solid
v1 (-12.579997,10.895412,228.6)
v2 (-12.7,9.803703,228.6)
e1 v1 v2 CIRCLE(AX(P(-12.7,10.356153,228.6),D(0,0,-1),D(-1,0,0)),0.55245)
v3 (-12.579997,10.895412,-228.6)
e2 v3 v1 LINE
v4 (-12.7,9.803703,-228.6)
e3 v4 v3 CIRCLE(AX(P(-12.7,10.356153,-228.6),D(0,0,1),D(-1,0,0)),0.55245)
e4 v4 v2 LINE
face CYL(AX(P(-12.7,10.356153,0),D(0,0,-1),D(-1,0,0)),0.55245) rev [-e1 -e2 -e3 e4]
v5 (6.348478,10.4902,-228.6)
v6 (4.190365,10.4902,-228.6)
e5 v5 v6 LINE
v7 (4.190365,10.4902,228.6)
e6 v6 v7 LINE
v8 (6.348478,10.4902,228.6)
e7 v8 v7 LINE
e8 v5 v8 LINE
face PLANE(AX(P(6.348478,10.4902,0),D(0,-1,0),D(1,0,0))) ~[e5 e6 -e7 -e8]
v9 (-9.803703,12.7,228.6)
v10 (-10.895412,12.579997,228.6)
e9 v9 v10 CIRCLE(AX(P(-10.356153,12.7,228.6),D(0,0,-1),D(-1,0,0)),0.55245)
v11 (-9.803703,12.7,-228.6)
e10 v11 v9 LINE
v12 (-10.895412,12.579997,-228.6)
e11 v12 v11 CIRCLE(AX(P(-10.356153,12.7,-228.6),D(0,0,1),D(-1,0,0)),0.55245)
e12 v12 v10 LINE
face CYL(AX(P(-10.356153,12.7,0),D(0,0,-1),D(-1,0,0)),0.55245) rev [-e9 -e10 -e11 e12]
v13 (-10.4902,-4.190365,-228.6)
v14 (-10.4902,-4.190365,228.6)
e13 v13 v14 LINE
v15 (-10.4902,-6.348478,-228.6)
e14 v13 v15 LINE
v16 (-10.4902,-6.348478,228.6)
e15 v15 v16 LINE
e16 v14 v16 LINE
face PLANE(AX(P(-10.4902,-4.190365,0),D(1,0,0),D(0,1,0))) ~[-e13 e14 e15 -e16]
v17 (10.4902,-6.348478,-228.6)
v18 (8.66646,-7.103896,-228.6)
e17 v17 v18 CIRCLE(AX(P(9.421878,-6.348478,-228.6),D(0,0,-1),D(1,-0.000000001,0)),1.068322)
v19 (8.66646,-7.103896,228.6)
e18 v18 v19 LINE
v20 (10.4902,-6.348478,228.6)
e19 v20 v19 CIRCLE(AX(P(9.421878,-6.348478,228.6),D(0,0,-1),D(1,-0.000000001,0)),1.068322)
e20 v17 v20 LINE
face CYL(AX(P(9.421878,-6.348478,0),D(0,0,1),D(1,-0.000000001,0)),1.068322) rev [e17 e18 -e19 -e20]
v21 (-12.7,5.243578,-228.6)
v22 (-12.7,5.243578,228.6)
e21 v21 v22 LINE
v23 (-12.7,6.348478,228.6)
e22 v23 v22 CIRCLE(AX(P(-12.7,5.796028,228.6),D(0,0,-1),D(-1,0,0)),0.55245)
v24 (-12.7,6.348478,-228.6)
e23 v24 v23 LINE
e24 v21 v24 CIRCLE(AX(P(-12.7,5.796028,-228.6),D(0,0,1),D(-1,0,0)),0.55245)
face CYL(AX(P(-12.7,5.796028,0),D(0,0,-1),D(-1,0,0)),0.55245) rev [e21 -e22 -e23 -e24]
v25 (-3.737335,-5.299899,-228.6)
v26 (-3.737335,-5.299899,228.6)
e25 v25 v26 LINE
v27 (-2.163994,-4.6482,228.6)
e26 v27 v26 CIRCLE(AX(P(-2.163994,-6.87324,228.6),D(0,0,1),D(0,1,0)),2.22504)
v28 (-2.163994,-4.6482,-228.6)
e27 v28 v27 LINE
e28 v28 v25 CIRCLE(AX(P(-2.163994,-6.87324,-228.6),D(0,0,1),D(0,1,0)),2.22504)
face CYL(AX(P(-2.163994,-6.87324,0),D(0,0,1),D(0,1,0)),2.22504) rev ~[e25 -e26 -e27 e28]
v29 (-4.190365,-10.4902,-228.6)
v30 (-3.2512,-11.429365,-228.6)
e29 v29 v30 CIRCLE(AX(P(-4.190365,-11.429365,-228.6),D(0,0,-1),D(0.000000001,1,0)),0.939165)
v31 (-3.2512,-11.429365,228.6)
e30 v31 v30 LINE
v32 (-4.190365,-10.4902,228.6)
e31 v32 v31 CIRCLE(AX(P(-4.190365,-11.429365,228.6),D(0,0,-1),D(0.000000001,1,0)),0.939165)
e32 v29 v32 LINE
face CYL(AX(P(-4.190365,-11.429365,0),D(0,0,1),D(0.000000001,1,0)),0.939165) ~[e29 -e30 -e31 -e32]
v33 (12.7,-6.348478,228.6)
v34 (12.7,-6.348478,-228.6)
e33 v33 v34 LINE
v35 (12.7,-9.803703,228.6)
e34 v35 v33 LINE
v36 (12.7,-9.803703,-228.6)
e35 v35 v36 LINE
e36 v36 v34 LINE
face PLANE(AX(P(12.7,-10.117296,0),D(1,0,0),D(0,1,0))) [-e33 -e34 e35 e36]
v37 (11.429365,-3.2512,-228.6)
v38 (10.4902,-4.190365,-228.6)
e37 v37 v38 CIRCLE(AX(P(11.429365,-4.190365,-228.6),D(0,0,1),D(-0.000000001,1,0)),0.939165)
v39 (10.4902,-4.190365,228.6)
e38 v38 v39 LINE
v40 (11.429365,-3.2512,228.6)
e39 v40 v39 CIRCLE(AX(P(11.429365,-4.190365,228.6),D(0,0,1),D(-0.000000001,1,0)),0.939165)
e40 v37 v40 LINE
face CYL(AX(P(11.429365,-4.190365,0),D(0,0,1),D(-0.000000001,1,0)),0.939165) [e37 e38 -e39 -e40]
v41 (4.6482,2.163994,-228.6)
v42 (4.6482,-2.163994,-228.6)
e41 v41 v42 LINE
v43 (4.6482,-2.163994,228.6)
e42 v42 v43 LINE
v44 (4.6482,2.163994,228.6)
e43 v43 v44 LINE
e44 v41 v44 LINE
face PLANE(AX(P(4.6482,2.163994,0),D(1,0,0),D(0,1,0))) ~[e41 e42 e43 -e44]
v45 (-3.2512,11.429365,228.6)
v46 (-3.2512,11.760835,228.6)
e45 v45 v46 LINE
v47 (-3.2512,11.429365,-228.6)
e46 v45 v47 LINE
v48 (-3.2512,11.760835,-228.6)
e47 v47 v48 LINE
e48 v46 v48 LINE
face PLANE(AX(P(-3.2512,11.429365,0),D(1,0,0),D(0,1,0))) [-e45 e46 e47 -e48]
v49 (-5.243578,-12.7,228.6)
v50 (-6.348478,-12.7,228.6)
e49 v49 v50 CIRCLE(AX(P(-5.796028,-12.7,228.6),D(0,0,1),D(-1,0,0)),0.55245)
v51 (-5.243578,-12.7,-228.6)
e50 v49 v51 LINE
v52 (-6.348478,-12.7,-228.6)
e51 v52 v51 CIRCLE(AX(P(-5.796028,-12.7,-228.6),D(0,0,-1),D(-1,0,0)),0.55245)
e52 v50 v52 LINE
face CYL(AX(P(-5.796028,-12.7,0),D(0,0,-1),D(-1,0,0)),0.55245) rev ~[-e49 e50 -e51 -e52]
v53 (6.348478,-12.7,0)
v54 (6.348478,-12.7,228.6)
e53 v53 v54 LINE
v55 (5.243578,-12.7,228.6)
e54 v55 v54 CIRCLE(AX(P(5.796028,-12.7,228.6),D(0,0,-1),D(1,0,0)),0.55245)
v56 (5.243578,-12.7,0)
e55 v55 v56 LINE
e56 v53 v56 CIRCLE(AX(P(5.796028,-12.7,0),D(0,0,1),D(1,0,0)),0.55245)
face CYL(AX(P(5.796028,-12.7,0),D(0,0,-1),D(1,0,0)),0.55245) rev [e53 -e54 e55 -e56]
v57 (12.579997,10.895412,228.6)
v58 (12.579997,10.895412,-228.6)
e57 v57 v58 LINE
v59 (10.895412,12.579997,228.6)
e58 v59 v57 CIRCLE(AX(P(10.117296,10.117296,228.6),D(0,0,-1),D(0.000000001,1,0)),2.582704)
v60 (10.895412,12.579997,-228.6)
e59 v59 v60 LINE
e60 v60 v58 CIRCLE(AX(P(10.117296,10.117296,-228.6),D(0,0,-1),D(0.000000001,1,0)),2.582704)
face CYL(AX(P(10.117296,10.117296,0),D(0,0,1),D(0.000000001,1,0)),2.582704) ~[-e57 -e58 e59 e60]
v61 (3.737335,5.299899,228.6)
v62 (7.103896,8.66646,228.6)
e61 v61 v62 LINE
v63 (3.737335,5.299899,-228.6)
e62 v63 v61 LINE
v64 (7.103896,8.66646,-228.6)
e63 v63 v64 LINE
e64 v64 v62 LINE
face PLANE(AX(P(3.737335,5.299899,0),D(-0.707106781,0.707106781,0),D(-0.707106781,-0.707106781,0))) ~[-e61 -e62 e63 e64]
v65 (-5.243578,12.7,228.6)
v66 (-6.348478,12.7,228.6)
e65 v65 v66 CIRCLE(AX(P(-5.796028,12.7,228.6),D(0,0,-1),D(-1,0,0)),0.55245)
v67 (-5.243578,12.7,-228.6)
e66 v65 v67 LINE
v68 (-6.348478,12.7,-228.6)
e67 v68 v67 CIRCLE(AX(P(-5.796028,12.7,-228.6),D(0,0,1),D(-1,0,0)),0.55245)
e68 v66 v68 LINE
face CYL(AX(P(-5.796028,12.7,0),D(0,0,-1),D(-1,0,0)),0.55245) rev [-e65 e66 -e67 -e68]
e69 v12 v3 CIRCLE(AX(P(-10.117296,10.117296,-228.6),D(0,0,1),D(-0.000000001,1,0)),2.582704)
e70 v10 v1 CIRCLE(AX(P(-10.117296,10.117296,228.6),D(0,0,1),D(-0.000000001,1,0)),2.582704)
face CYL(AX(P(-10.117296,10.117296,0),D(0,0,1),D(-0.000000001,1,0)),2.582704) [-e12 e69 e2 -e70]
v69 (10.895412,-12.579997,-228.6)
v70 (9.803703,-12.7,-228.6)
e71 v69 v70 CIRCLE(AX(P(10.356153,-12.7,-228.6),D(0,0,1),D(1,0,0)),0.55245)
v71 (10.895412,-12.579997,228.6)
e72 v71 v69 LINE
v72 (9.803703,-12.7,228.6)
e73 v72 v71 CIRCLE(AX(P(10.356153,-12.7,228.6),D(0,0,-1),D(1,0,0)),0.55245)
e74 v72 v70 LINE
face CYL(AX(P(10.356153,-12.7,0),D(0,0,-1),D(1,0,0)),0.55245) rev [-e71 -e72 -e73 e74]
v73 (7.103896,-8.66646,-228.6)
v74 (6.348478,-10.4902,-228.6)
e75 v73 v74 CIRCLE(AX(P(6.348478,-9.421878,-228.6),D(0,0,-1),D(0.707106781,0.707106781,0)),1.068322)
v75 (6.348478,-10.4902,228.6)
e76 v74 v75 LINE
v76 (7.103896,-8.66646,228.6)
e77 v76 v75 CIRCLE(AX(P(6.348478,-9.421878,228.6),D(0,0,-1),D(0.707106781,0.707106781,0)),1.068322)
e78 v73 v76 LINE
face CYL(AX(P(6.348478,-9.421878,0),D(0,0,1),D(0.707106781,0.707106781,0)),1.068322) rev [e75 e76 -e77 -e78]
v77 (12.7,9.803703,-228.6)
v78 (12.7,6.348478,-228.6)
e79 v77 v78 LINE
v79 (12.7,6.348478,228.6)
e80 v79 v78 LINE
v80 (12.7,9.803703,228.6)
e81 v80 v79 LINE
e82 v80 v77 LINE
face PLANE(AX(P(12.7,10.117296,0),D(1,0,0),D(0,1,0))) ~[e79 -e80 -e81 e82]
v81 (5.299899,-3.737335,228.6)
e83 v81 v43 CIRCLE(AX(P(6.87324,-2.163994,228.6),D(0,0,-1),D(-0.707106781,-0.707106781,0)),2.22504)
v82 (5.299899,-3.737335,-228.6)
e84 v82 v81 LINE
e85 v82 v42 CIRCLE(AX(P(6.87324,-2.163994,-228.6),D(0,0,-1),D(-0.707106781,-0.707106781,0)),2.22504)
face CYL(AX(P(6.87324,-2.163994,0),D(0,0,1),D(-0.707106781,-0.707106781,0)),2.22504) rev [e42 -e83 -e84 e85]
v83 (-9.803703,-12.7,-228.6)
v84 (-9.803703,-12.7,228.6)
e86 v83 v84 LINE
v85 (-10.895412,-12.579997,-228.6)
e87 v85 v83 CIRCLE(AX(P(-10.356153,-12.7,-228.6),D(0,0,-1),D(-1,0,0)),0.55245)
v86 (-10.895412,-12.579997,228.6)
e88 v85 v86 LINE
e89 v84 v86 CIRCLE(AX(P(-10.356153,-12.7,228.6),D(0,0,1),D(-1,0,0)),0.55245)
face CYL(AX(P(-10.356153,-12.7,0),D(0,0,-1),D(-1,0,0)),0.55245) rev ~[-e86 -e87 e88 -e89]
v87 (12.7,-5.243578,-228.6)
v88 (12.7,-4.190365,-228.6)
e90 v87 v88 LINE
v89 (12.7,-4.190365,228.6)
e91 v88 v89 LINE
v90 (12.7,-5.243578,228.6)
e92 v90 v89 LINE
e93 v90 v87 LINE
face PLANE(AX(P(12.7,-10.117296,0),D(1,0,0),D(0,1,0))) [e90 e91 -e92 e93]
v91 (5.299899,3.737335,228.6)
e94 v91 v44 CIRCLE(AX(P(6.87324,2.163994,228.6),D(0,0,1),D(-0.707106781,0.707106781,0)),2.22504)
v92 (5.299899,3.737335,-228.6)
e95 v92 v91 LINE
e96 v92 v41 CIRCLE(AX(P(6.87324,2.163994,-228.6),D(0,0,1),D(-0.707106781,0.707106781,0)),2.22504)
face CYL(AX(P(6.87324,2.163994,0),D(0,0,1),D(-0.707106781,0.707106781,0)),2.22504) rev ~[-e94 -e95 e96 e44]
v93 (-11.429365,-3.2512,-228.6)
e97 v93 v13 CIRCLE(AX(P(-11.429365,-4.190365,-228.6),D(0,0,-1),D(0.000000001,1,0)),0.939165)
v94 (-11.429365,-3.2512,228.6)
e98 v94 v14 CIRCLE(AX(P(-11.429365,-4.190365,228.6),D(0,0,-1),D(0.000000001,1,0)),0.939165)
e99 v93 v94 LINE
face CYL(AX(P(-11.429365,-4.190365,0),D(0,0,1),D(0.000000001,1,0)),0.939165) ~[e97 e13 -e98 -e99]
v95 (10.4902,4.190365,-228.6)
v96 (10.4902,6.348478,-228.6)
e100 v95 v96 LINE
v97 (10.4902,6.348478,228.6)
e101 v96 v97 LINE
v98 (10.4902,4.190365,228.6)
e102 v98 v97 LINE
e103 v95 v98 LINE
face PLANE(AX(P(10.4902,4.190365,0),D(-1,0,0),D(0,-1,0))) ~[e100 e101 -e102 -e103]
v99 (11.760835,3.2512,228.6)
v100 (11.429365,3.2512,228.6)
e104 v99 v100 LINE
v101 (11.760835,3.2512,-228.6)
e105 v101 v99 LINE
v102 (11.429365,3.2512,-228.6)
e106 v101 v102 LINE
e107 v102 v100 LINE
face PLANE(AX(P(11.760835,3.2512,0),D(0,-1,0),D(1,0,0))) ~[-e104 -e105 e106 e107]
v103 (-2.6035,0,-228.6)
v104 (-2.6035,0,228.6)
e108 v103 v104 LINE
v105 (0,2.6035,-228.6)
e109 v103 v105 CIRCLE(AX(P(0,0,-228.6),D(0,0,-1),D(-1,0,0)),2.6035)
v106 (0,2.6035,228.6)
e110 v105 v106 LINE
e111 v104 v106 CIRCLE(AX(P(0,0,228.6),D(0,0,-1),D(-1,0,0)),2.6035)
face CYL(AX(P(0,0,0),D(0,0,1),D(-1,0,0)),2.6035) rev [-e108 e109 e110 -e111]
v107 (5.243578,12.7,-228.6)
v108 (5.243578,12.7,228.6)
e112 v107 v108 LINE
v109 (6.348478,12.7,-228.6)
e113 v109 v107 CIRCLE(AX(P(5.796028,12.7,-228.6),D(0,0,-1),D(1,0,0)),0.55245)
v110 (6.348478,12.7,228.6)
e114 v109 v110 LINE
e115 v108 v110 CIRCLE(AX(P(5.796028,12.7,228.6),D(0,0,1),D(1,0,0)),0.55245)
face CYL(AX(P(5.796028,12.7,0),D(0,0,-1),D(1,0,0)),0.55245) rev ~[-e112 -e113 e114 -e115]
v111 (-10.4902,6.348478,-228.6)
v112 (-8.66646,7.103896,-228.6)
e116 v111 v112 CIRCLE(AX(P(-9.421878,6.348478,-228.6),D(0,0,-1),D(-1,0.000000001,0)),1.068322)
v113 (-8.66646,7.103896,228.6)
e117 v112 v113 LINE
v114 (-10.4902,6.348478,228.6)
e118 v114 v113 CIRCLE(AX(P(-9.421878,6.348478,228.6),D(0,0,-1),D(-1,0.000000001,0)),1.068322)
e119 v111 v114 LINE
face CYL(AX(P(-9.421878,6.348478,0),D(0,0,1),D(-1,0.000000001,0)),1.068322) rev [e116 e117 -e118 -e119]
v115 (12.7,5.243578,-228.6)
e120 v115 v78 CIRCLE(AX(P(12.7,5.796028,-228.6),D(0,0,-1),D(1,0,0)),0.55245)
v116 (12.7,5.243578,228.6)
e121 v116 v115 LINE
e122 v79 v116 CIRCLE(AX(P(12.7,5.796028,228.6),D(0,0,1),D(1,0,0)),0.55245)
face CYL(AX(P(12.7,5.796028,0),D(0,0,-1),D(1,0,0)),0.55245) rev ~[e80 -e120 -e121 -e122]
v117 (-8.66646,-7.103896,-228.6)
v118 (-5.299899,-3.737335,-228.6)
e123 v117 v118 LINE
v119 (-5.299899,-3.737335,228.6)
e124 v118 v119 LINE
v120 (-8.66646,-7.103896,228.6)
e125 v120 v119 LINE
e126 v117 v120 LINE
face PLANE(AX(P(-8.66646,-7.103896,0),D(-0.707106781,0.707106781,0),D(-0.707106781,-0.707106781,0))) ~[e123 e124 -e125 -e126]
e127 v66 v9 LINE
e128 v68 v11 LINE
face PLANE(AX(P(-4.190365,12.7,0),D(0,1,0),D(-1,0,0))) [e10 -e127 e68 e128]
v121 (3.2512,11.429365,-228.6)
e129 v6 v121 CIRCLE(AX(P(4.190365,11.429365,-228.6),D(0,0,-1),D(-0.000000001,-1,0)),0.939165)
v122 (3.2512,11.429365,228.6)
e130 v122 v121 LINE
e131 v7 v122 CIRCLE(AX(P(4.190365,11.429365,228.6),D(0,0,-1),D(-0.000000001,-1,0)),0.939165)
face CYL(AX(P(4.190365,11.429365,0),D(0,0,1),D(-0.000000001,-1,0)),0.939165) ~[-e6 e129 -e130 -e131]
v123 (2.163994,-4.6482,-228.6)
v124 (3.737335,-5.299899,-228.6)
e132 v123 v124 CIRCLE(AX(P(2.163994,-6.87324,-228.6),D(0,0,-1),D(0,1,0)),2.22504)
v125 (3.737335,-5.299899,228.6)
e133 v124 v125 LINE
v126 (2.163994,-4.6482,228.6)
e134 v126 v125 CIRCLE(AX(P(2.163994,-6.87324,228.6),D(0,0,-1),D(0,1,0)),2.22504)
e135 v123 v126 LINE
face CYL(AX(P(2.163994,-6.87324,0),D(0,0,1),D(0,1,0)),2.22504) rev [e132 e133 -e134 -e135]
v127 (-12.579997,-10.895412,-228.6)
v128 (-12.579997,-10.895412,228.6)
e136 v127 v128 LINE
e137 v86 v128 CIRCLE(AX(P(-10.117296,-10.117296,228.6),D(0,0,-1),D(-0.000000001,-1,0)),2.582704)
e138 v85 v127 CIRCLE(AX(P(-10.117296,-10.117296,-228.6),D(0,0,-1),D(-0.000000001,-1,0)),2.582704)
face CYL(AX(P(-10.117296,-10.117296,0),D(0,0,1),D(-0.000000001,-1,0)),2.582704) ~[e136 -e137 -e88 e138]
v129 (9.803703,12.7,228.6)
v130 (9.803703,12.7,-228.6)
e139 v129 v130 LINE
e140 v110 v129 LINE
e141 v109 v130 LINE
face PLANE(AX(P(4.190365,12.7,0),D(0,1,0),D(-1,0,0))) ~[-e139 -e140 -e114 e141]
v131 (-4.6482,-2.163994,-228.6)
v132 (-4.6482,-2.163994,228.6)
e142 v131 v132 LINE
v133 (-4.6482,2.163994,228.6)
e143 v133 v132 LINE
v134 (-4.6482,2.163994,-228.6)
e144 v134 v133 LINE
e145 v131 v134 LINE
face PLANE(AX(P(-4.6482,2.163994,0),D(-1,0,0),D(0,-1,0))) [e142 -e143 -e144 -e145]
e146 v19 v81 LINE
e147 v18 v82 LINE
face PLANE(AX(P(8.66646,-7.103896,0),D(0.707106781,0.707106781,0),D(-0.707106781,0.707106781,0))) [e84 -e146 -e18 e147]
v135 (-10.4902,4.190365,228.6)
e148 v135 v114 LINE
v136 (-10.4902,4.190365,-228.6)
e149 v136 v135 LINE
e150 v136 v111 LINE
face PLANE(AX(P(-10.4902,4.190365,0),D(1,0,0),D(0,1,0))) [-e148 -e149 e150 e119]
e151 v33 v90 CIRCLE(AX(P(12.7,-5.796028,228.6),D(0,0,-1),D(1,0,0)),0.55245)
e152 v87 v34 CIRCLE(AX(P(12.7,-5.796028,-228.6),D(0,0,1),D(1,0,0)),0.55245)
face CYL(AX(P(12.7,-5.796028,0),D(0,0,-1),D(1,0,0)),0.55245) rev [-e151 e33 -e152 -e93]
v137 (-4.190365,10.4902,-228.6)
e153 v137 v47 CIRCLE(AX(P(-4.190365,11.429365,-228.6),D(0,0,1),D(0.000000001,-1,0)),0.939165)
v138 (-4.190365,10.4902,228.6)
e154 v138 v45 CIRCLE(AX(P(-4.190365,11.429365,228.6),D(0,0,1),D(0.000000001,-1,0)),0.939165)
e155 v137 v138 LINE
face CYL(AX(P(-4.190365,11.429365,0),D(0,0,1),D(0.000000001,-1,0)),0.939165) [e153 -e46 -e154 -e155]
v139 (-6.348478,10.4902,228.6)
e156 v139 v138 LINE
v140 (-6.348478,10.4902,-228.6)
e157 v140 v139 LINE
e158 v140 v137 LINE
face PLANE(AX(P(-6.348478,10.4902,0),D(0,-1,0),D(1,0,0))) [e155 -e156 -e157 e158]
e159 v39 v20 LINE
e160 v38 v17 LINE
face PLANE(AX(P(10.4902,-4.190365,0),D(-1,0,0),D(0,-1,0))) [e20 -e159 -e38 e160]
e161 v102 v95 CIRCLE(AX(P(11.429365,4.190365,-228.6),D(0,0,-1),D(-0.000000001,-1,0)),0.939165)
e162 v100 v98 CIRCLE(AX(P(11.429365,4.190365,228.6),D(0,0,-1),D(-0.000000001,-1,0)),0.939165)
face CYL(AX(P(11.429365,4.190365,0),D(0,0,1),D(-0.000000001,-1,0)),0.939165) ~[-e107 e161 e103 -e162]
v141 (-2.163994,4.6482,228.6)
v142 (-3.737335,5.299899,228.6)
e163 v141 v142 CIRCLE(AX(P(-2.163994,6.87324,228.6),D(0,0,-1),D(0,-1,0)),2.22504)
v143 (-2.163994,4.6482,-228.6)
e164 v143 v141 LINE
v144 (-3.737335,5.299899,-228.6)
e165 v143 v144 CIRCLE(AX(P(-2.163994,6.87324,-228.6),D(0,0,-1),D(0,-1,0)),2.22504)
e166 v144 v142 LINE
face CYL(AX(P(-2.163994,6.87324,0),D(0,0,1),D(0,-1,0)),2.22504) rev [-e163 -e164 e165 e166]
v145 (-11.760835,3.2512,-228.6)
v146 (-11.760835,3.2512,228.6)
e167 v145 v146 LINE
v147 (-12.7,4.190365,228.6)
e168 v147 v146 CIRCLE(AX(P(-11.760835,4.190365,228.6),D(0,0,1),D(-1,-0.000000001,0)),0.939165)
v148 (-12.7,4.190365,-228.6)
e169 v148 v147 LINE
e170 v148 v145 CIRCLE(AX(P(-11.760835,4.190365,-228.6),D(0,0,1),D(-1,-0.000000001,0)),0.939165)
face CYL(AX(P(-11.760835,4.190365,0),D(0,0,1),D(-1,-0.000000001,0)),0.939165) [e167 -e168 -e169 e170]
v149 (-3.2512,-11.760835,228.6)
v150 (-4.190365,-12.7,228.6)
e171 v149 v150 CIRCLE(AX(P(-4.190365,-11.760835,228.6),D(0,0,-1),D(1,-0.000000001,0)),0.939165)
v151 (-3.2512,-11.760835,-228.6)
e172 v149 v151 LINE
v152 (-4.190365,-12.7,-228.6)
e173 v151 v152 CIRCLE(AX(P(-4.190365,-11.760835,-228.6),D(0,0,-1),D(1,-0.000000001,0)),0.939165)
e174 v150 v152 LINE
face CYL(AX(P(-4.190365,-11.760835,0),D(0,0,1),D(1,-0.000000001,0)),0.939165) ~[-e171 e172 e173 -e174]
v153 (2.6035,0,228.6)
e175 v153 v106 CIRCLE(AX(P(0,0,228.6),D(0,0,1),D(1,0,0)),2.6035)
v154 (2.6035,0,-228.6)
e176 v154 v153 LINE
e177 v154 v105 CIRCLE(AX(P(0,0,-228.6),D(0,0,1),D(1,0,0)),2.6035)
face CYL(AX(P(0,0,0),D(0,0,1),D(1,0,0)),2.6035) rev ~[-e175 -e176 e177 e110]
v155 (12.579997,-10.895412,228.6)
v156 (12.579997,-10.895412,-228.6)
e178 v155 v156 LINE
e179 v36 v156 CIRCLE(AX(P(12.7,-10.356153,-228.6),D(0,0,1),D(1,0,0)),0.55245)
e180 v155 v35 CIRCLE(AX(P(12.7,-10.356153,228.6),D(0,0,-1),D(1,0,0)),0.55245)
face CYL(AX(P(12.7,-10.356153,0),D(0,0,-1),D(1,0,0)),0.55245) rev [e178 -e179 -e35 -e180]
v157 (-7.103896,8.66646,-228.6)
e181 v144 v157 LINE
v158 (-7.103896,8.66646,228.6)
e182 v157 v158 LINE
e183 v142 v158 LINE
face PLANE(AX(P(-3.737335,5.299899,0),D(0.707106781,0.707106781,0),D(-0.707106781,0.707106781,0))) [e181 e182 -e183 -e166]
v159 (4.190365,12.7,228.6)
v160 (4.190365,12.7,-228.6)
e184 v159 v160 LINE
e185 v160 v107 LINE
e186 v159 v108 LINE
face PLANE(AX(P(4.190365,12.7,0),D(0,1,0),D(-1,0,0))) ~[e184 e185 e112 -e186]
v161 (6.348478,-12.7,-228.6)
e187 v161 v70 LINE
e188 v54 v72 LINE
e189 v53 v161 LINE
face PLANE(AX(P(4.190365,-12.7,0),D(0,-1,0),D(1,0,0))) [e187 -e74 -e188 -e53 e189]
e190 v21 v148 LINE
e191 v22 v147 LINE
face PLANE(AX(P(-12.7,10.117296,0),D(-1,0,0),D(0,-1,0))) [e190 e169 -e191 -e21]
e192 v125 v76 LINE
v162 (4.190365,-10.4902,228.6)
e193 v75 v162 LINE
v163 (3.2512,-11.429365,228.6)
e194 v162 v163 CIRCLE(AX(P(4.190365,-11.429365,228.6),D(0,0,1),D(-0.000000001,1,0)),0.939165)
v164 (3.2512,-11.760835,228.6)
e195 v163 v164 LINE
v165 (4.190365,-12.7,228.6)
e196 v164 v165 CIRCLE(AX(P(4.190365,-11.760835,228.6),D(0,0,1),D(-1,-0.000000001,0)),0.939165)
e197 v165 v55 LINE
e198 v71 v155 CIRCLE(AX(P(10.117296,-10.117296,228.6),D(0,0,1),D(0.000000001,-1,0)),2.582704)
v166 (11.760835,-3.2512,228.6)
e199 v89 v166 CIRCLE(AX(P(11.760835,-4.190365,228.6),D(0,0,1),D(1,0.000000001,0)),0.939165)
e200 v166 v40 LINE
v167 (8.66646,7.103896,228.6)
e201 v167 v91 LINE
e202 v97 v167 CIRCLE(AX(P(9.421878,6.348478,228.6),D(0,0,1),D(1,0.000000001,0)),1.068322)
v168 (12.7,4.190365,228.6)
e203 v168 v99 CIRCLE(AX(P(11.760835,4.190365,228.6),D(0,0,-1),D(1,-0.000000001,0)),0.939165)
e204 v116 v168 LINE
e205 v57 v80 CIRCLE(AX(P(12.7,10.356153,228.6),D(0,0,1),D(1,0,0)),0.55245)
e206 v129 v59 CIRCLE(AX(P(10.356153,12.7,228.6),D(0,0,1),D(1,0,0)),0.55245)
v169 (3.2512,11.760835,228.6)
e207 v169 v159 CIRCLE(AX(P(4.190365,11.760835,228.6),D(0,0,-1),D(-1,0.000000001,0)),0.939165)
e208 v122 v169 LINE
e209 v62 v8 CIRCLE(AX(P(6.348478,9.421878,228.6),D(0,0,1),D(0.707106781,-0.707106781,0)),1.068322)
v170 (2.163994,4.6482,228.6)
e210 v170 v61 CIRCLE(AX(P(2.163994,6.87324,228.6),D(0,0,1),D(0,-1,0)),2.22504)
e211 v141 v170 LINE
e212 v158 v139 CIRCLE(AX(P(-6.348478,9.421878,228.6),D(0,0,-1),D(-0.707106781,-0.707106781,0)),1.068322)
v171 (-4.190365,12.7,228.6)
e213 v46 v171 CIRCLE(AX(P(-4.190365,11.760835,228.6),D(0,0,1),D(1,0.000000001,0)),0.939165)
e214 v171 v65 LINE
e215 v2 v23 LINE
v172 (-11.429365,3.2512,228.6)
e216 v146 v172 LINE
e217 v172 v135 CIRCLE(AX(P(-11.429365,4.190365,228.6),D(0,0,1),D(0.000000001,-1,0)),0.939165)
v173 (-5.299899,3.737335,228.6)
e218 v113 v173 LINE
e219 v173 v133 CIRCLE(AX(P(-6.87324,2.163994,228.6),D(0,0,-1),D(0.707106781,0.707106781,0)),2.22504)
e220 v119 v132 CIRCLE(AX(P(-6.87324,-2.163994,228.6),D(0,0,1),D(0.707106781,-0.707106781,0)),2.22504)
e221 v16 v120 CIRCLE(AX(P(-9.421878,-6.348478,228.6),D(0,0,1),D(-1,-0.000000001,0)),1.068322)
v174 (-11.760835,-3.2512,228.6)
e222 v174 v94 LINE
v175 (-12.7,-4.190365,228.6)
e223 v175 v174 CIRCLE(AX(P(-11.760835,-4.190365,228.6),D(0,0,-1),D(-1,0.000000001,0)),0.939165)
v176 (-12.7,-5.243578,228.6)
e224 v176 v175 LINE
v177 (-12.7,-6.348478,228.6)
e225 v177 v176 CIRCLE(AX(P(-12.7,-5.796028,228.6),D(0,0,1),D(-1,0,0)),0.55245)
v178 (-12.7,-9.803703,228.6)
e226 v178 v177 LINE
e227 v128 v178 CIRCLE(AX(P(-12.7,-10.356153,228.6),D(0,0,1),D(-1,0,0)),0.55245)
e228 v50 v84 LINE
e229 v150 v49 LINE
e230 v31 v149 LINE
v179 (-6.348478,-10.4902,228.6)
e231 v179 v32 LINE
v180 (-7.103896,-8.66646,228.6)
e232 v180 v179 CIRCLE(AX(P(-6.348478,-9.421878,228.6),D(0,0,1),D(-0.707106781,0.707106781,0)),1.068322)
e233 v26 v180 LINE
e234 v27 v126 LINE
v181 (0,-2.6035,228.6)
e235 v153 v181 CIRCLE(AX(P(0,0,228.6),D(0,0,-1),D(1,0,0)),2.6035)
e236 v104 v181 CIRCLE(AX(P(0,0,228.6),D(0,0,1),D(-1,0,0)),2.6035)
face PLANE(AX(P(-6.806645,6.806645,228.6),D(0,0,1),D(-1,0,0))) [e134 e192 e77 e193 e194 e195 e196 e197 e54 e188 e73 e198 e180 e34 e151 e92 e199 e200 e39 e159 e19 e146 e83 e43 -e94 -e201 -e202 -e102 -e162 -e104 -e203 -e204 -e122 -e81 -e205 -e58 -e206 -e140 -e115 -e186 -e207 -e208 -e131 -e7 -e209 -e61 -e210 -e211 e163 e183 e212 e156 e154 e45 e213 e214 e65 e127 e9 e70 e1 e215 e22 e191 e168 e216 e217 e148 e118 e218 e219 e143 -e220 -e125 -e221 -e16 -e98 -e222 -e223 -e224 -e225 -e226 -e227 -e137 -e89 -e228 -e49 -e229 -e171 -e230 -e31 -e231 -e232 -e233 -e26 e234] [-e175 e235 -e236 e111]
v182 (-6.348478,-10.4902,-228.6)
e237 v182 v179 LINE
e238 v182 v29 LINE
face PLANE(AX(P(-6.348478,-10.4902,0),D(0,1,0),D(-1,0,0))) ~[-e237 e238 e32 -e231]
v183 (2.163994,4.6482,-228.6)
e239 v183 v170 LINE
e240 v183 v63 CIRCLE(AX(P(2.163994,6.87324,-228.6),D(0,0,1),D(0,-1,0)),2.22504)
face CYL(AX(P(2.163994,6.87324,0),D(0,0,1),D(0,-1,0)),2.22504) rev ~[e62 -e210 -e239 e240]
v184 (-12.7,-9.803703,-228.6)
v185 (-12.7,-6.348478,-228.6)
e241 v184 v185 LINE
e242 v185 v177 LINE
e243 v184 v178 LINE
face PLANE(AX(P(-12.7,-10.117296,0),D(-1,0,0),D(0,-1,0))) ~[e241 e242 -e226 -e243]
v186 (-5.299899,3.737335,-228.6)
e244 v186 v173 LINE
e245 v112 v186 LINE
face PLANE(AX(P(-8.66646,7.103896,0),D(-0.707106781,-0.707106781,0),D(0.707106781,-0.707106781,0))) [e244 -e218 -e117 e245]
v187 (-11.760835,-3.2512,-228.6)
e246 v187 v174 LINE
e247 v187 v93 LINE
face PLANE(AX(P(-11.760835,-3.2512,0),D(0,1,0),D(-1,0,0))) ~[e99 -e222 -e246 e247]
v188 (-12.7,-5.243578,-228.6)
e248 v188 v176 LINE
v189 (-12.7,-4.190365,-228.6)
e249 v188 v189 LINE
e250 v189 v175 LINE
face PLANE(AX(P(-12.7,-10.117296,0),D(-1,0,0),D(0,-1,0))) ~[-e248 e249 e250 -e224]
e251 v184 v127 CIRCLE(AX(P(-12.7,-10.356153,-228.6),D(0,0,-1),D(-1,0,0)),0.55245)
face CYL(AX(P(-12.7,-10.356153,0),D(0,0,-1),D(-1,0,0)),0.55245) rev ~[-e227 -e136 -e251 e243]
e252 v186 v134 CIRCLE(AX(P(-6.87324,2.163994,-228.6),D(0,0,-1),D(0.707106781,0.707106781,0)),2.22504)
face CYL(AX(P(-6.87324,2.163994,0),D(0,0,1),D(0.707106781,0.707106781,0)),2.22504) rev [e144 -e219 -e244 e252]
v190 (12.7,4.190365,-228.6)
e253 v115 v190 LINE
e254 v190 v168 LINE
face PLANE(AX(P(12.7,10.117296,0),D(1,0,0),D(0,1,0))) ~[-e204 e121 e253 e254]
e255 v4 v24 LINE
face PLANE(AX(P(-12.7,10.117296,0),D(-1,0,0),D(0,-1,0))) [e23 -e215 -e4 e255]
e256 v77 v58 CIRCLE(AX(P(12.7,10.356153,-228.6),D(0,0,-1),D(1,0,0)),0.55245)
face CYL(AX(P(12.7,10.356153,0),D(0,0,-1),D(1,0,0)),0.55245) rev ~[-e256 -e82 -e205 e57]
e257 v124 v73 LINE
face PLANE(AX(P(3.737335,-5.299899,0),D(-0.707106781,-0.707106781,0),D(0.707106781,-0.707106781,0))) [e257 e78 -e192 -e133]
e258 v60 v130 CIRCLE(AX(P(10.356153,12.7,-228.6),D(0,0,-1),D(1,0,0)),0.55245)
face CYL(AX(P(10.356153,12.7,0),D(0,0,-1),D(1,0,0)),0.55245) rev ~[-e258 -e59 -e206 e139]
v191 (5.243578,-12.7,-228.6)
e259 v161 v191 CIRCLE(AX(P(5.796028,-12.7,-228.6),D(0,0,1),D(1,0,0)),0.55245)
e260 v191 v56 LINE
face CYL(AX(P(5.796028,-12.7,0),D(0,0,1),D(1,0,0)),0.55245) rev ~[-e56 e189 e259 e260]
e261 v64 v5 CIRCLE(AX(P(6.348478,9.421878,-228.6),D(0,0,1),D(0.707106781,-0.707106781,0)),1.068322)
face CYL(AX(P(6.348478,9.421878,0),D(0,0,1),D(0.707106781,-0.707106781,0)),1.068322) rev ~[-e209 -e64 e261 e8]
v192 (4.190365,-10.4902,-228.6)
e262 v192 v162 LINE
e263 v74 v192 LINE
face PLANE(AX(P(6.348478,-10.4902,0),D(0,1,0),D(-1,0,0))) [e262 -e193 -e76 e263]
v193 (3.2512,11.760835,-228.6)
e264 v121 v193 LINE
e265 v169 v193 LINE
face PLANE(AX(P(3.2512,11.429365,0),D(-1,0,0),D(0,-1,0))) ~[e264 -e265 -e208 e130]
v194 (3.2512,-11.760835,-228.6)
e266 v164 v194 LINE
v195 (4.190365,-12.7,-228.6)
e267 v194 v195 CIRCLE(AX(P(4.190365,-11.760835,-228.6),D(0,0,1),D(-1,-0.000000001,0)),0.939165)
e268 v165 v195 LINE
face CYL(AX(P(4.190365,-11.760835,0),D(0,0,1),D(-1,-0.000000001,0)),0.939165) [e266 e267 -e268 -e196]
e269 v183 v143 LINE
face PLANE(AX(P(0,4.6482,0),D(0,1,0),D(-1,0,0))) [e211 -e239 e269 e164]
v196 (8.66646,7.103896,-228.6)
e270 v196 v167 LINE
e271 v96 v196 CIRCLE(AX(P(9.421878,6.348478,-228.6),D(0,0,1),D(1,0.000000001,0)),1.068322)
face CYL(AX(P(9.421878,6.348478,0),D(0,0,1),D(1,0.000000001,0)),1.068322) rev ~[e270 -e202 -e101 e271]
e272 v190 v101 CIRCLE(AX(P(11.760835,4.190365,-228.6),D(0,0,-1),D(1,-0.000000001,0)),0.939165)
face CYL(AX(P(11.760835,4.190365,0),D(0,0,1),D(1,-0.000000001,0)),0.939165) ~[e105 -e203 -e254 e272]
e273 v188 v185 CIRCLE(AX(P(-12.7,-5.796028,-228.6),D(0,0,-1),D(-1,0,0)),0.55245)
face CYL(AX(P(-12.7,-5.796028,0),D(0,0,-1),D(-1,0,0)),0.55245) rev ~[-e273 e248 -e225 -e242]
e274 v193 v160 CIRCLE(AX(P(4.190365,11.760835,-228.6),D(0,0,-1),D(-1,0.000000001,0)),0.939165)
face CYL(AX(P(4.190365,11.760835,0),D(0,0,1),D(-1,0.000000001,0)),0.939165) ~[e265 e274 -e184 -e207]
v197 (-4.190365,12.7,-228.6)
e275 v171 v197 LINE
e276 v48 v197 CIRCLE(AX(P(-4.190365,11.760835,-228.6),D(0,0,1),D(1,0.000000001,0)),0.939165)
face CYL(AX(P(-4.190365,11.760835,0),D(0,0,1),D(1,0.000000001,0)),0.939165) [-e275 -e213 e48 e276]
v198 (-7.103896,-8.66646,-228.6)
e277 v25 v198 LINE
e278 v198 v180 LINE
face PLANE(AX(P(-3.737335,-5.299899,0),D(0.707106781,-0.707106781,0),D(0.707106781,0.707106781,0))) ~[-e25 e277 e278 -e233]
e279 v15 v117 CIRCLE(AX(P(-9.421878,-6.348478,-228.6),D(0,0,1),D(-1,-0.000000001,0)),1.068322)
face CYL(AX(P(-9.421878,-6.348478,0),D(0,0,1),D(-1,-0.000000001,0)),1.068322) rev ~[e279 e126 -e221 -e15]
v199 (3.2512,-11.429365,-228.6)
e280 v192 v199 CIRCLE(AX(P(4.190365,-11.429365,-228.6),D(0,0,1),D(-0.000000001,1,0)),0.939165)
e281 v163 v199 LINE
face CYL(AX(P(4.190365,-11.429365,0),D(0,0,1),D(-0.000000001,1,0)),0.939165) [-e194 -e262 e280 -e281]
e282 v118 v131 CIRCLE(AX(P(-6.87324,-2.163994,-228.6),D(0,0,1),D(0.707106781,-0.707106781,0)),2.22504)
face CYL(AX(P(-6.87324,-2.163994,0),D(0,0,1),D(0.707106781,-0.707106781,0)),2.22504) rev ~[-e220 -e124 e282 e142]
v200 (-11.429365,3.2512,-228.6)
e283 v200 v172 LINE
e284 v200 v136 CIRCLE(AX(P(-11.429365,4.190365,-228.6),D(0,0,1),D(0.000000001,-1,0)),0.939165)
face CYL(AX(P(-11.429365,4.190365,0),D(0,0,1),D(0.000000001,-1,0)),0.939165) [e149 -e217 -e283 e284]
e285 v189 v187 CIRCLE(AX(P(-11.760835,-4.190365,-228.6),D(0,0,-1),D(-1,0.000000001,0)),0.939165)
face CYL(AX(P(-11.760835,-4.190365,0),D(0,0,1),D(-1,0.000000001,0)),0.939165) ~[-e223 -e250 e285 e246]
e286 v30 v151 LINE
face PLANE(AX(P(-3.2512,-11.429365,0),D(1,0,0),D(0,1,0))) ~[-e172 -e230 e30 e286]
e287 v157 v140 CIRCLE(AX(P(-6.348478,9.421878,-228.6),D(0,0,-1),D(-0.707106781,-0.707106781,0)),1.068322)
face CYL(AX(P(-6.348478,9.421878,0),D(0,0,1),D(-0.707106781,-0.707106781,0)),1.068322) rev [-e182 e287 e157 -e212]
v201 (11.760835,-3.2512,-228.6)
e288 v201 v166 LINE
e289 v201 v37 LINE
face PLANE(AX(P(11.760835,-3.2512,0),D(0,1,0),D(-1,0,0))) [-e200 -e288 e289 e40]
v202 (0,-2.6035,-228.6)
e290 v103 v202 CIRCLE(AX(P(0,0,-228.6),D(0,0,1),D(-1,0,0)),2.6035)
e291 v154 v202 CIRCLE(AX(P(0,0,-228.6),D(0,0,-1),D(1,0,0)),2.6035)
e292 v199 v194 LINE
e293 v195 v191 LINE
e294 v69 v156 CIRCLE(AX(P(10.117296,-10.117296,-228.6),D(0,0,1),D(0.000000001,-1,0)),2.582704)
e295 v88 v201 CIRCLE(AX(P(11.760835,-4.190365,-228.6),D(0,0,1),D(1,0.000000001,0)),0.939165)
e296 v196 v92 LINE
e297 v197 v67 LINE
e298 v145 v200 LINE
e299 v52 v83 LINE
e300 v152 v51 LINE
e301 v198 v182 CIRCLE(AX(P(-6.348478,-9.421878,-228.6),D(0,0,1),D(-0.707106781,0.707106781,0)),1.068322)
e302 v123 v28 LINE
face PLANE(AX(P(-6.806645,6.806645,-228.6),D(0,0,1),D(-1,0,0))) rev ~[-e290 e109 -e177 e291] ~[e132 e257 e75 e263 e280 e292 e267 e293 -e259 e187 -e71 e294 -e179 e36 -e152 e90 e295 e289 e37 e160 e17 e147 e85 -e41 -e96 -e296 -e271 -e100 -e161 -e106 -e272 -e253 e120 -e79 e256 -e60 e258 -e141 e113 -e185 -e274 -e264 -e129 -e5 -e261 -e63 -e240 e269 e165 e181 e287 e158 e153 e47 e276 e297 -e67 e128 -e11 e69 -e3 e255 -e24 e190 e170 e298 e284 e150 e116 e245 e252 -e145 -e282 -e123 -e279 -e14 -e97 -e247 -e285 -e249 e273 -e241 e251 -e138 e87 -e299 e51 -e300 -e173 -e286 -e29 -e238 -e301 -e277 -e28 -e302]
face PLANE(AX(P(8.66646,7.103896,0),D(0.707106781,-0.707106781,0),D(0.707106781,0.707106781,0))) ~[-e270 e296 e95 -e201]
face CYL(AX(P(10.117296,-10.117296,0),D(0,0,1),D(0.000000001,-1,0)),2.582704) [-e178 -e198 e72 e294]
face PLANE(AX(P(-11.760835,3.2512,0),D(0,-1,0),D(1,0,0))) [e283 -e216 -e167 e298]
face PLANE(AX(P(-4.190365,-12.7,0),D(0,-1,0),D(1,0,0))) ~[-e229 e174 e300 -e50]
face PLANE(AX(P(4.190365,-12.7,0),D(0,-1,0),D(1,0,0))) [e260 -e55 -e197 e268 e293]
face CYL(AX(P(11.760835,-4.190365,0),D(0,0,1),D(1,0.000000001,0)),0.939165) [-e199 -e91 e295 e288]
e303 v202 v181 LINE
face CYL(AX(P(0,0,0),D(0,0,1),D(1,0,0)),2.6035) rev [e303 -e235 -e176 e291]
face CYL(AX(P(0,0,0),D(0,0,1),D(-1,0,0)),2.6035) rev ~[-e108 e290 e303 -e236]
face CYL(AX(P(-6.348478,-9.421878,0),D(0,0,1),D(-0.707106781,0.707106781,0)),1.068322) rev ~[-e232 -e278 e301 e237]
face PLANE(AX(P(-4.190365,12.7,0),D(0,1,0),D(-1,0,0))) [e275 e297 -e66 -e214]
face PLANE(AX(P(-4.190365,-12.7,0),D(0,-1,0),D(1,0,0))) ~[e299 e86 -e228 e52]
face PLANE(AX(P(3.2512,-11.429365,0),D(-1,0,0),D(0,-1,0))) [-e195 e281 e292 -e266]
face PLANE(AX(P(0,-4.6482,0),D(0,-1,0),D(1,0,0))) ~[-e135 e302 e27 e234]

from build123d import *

# Parameters (mm, degrees)
BOSS_EXTRUDE1_DEPTH     = 228.6
SKETCH5_R               = 0.55245
CUT_EXTRUDE1_DEPTH      = 229.6
CUT_EXTRUDE1_DEPTH_BACK = 229.6


with BuildPart() as part:
    # Sketch4 → Boss-Extrude1 (new body, symmetric)
    with BuildSketch(Plane.XY):
        with BuildLine():
            Line((4.190365, -12.7), (10.11729625, -12.7))
            ThreePointArc((10.11729625, -12.7), (11.943543585, -11.943543585), (12.7, -10.11729625))
            Line((12.7, -10.11729625), (12.7, -4.190365))
            ThreePointArc((12.7, -4.190365), (12.42492494, -3.52627506), (11.760835, -3.2512))
            Line((11.760835, -3.2512), (11.429365, -3.2512))
            ThreePointArc((11.429365, -3.2512), (10.76527506, -3.52627506), (10.4902, -4.190365))
            Line((10.4902, -4.190365), (10.4902, -6.348478019))
            ThreePointArc((10.4902, -6.348478019), (9.830707141, -7.335478831), (8.666460301, -7.103895736))
            Line((8.666460301, -7.103895736), (5.299899128, -3.737334563))
            ThreePointArc((5.299899128, -3.737334563), (4.817571085, -3.015479634), (4.6482, -2.16399369))
            Line((4.6482, -2.16399369), (4.6482, 0))
            Line((4.6482, 0), (2.6035, 0))
            ThreePointArc((2.6035, 0), (1.840952505, -1.840952505), (0, -2.6035))
            Line((0, -2.6035), (0, -4.6482))
            Line((0, -4.6482), (2.16399369, -4.6482))
            ThreePointArc((2.16399369, -4.6482), (3.015479634, -4.817571085), (3.737334563, -5.299899128))
            Line((3.737334563, -5.299899128), (7.103895736, -8.666460301))
            ThreePointArc((7.103895736, -8.666460301), (7.335478831, -9.830707141), (6.348478019, -10.4902))
            Line((6.348478019, -10.4902), (4.190365, -10.4902))
            ThreePointArc((4.190365, -10.4902), (3.52627506, -10.76527506), (3.2512, -11.429365))
            Line((3.2512, -11.429365), (3.2512, -11.760835))
            ThreePointArc((3.2512, -11.760835), (3.52627506, -12.42492494), (4.190365, -12.7))
        make_face()
    extrude(amount=BOSS_EXTRUDE1_DEPTH, both=True)

    # Sketch5 → Cut-Extrude1 (cut, two sides)
    with BuildSketch(Plane.XY) as cut_extrude1_sk:
        with Locations((10.356153152, -12.7)):
            Circle(SKETCH5_R)
        with Locations((5.796028019, -12.7)):
            Circle(SKETCH5_R)
        with Locations((12.7, -10.356153152)):
            Circle(SKETCH5_R)
        with Locations((12.7, -5.796028019)):
            Circle(SKETCH5_R)
    extrude(amount=CUT_EXTRUDE1_DEPTH, mode=Mode.SUBTRACT)
    extrude(cut_extrude1_sk.sketch, amount=-CUT_EXTRUDE1_DEPTH_BACK, mode=Mode.SUBTRACT)

    # Mirror1: part across plane


with BuildPart() as part_1:
    add(part.part)
    add(part.part.mirror(Plane(origin=(0, 0, 0), x_dir=(0, 0, 1), z_dir=(1, 0, 0))))

    # Mirror2: part across plane


with BuildPart() as part_2:
    add(part_1.part)
    add(part_1.part.mirror(Plane.ZX))


solid = part_2.part
